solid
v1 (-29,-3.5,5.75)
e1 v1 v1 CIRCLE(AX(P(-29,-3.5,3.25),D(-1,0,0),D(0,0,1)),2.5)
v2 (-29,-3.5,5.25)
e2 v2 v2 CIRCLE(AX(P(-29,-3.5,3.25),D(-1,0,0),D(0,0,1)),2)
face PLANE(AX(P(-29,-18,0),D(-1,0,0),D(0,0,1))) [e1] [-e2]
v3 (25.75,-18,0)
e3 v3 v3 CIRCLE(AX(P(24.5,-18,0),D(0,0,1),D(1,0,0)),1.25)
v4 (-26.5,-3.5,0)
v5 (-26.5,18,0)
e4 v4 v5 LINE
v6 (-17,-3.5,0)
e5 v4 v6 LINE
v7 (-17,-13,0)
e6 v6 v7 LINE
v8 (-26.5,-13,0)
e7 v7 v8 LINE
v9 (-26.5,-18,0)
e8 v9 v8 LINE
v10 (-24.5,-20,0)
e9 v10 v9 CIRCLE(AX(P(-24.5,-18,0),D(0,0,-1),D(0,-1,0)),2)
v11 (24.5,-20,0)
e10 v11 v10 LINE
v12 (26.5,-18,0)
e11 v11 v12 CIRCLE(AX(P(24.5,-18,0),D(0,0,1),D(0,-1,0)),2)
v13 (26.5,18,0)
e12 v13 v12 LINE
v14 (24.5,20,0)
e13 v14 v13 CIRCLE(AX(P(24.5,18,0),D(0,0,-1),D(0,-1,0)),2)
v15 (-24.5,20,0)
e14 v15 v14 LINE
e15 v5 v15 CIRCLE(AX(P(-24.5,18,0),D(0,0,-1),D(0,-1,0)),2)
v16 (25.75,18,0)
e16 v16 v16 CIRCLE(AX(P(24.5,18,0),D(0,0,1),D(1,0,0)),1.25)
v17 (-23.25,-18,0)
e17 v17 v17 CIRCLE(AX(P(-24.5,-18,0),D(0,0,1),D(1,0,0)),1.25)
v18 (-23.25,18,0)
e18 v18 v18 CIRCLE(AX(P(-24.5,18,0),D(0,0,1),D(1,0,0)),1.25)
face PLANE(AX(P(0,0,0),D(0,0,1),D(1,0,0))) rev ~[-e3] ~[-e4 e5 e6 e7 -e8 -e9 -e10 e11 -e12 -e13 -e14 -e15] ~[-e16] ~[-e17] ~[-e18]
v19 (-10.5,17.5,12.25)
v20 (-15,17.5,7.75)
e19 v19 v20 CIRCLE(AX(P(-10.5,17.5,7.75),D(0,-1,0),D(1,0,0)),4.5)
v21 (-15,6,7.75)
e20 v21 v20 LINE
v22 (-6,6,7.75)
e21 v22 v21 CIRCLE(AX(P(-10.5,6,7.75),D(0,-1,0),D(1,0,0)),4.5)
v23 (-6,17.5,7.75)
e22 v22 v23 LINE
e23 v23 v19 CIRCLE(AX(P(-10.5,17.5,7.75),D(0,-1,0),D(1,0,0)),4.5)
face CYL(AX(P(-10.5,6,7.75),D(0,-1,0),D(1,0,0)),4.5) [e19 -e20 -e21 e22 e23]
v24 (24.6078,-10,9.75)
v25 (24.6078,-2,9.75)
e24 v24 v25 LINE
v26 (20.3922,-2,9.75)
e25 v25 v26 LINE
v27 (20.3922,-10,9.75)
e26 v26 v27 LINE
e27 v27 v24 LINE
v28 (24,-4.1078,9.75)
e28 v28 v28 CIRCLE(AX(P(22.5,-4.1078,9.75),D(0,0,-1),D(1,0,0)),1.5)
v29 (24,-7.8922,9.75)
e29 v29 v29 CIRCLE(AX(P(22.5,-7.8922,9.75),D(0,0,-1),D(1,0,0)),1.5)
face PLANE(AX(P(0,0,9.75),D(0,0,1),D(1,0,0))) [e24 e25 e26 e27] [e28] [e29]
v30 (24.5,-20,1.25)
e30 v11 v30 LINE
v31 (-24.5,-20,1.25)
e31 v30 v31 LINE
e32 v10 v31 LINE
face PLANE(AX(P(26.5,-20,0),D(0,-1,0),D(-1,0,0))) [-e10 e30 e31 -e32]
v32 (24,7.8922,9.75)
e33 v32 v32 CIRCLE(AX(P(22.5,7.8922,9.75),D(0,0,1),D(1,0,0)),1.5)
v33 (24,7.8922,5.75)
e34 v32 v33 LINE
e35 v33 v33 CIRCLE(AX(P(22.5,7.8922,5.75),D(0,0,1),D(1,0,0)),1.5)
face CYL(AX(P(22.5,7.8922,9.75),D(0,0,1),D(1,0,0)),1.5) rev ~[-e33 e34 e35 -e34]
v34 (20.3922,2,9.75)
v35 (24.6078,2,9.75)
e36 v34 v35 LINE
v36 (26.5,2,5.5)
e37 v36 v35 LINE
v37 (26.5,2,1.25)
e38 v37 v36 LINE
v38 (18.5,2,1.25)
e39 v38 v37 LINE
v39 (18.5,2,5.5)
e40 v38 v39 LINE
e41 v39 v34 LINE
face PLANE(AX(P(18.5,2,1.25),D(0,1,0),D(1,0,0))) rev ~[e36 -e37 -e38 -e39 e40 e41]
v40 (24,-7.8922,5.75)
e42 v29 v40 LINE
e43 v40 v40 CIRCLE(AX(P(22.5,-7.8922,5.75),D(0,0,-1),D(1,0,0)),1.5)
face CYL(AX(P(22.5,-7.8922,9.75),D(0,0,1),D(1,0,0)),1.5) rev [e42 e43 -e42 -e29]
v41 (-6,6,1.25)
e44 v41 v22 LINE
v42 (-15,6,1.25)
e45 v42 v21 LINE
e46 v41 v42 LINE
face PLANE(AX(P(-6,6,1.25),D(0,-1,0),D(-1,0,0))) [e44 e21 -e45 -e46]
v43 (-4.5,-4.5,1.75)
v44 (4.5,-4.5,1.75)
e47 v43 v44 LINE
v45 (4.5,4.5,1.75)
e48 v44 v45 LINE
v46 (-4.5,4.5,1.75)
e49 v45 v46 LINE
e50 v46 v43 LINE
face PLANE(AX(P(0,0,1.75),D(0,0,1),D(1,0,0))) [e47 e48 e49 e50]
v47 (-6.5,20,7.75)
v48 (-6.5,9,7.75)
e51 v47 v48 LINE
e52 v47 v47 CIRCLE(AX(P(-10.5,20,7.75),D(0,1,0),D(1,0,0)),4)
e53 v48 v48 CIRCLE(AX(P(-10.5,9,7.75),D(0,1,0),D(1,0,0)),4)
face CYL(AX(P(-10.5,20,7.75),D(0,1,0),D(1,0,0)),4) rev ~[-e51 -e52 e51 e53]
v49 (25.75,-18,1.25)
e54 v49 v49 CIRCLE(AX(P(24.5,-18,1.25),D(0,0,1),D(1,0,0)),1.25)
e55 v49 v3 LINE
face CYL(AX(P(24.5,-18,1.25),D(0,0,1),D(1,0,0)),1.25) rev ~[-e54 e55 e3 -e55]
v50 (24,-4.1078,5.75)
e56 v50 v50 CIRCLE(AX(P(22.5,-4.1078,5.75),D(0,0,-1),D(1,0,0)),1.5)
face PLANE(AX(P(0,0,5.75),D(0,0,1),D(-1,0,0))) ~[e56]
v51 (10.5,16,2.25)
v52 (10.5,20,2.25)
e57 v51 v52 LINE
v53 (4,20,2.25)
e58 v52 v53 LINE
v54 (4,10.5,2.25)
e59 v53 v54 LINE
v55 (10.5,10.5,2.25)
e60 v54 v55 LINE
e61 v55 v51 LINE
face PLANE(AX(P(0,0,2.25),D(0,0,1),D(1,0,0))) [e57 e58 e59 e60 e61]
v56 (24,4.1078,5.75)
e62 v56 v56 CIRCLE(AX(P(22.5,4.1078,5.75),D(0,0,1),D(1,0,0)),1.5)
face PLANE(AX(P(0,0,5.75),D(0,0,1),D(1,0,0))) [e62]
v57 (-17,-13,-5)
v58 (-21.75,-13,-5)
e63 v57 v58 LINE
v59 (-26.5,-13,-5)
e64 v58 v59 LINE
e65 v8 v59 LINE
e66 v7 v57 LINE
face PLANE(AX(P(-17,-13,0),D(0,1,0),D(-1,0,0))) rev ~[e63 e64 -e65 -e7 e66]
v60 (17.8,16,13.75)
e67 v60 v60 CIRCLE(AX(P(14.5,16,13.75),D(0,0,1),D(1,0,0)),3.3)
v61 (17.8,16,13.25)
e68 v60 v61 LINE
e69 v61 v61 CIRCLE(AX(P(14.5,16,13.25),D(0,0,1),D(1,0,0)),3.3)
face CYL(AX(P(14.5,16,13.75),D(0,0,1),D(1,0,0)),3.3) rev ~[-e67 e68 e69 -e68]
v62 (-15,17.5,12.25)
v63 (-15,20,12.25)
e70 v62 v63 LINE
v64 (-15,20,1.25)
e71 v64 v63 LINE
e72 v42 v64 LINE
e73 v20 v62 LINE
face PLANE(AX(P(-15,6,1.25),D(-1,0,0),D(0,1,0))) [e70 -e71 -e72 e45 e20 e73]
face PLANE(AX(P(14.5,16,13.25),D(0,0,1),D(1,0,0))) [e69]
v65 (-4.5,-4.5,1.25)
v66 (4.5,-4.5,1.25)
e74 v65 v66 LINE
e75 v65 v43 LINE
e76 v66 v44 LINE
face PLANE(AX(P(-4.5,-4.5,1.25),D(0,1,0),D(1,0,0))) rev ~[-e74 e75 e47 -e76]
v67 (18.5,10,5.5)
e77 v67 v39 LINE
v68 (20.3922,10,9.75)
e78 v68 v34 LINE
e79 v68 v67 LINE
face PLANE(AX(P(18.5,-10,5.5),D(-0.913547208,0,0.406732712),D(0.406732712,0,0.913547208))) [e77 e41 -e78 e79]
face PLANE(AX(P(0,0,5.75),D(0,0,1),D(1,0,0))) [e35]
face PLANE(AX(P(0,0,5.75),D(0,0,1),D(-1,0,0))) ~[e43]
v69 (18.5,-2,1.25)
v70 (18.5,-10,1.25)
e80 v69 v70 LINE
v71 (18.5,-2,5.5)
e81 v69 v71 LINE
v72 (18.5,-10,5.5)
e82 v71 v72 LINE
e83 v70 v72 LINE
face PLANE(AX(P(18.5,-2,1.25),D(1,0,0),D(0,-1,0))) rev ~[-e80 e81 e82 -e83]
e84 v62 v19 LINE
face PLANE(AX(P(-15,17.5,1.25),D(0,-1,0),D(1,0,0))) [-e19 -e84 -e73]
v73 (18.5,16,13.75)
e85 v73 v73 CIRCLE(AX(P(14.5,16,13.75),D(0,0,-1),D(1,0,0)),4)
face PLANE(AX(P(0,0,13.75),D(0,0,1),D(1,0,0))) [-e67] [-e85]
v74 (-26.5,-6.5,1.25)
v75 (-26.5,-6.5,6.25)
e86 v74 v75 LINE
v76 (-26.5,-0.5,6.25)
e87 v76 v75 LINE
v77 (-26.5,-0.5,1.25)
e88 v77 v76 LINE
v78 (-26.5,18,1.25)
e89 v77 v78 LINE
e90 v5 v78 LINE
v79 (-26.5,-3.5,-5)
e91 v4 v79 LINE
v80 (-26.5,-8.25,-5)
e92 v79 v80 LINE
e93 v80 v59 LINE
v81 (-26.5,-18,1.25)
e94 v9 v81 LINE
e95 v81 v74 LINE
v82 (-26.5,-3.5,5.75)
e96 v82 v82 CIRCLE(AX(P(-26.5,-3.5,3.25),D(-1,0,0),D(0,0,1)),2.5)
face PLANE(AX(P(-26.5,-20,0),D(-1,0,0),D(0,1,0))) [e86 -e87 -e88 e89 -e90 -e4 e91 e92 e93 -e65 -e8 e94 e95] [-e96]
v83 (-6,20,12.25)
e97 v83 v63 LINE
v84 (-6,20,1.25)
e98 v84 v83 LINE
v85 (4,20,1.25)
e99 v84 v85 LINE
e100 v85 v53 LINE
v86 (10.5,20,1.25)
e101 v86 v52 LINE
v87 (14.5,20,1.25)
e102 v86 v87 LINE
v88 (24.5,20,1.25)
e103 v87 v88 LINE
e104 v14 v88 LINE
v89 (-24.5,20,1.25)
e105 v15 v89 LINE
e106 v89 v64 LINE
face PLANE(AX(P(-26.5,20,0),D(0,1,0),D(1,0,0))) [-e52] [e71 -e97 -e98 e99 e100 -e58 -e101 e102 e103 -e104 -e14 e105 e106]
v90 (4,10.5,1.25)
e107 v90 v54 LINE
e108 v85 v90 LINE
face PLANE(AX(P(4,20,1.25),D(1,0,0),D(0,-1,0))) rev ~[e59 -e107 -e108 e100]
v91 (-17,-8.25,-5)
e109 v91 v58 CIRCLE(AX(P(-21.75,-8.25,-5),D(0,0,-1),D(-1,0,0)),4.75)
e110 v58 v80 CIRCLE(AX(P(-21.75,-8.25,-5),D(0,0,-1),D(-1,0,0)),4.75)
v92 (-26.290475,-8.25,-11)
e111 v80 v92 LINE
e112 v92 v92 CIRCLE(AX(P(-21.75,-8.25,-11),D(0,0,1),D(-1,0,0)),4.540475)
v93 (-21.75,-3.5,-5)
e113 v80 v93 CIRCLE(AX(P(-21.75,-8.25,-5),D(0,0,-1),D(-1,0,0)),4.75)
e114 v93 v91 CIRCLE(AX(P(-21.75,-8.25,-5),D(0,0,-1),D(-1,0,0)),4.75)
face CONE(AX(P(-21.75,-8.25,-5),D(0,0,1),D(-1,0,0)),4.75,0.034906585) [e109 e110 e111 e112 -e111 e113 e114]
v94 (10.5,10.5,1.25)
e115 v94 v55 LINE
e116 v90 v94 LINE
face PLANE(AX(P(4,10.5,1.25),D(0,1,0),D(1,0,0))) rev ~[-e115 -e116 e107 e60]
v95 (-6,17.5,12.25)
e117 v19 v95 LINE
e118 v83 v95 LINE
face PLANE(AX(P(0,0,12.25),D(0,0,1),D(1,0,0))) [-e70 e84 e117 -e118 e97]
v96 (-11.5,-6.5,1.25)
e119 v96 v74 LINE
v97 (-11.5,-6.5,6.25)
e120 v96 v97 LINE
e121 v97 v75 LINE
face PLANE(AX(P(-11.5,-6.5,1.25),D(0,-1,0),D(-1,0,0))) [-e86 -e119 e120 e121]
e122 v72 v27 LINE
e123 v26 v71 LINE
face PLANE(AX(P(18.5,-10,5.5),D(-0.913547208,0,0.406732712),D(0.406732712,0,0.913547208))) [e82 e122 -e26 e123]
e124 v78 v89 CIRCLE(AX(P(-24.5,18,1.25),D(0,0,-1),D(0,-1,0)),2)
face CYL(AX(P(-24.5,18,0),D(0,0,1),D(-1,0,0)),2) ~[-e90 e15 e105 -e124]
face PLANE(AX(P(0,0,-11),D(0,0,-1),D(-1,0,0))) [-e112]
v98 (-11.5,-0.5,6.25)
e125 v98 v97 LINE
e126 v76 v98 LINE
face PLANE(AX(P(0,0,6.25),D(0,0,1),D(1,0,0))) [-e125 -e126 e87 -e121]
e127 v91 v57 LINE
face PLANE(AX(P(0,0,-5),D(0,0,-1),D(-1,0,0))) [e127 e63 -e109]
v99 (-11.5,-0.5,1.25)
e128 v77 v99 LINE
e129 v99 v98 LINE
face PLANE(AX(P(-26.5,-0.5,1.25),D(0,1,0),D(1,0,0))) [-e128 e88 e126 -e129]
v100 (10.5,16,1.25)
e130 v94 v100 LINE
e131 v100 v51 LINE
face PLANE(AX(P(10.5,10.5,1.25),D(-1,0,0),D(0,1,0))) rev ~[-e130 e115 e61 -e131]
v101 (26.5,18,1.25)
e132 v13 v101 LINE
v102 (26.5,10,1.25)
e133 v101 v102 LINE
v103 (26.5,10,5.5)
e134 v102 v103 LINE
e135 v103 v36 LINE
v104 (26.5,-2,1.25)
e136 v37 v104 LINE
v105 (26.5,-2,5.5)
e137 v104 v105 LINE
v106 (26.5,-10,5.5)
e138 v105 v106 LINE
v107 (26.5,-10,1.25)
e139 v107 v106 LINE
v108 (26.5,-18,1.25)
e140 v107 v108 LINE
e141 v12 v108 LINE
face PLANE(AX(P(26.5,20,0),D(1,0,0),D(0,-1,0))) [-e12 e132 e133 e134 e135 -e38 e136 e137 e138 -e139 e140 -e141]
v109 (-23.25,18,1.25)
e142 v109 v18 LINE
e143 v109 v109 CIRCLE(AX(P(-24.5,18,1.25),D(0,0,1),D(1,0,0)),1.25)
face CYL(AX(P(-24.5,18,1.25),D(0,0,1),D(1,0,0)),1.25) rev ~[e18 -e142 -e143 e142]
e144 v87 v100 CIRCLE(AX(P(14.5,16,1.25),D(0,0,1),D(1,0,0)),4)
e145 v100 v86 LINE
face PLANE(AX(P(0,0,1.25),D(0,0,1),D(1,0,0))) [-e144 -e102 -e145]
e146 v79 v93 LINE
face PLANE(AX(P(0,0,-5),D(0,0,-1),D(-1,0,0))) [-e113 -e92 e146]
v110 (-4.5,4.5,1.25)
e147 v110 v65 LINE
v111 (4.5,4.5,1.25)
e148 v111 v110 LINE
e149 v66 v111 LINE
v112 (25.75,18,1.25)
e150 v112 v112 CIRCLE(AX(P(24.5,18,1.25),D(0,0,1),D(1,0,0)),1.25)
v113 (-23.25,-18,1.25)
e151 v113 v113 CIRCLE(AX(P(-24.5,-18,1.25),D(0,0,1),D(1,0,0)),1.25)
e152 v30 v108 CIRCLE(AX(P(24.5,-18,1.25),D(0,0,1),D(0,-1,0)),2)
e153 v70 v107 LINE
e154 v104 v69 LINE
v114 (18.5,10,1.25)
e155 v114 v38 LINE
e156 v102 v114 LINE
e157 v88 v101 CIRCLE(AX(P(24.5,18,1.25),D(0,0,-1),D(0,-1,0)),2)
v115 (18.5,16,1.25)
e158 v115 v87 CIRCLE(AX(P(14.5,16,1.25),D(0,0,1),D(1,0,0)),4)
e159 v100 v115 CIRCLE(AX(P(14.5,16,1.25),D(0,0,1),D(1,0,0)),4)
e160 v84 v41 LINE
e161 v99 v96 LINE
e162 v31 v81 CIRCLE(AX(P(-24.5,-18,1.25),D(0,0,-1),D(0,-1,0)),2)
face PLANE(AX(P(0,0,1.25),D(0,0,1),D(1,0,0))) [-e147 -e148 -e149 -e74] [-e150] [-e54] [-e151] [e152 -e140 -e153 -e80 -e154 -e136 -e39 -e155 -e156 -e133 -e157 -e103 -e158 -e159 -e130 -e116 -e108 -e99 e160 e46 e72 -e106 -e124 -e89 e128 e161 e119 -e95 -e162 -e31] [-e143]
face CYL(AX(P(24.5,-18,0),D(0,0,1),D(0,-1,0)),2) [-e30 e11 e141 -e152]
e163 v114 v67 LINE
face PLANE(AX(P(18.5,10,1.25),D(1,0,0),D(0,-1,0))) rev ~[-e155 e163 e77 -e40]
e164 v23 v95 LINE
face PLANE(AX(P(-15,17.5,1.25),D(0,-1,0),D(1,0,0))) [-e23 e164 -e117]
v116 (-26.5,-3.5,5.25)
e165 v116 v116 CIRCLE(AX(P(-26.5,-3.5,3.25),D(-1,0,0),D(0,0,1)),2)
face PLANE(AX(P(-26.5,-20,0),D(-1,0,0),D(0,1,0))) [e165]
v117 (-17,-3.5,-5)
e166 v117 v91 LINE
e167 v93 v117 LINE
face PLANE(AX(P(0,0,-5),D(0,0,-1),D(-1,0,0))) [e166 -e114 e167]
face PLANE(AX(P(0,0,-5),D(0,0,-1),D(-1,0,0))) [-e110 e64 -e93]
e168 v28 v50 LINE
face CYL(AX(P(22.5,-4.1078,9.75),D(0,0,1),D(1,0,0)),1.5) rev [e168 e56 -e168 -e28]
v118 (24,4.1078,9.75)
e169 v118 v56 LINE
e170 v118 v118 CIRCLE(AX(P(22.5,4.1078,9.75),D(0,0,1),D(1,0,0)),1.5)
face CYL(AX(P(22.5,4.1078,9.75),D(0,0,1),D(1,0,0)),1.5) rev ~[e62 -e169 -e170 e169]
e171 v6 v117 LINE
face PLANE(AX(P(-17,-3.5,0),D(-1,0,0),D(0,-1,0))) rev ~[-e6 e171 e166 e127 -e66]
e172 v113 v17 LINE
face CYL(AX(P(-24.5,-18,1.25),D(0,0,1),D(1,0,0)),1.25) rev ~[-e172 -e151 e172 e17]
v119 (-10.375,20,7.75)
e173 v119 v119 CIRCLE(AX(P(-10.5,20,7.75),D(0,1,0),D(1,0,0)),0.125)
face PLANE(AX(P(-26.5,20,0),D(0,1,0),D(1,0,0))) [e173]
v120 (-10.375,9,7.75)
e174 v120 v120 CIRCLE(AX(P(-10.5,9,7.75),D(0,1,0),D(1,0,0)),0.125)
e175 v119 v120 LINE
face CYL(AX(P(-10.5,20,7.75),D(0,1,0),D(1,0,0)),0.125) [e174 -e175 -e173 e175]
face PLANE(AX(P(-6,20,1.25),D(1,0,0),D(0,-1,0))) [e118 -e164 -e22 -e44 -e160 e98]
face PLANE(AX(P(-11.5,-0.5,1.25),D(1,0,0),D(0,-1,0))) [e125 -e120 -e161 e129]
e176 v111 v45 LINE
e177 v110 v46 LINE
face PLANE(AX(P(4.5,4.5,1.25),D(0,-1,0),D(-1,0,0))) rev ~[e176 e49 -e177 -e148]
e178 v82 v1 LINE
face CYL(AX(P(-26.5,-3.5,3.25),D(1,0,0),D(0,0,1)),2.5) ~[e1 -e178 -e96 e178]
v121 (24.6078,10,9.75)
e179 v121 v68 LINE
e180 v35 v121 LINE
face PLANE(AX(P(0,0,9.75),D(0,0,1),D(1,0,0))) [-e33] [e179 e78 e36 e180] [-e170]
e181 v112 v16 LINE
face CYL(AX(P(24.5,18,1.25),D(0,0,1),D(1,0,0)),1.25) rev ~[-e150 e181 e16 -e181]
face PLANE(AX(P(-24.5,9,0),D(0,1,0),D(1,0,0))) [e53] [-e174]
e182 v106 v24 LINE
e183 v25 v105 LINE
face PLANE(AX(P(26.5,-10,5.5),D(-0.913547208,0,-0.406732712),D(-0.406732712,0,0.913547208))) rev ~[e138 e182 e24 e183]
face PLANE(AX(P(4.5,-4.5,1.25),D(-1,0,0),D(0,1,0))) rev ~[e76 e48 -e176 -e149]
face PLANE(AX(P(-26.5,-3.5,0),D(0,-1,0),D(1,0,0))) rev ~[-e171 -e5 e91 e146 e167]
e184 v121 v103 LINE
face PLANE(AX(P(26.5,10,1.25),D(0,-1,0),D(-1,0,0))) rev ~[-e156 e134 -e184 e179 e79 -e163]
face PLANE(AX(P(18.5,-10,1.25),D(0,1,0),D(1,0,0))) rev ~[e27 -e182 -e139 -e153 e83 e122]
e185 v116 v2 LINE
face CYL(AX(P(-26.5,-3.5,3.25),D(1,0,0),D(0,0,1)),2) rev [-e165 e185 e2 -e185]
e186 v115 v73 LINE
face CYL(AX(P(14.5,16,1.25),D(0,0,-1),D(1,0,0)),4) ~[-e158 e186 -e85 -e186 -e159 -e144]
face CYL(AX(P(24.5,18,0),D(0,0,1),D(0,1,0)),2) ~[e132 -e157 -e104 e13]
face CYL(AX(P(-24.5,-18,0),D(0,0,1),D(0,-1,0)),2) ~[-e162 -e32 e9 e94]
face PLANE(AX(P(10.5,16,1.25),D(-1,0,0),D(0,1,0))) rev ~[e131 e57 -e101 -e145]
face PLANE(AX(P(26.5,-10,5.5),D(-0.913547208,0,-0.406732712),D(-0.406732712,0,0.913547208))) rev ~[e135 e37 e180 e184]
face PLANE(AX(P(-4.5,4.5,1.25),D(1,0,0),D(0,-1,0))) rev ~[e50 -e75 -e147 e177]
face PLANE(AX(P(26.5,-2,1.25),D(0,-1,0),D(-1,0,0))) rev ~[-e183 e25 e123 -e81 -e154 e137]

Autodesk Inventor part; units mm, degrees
ref_plane "YZ Plane" through (0, 0, 0) normal (1, 0, 0) x (0, 1, 0)
ref_plane "XZ Plane" through (0, 0, 0) normal (0, 1, 0) x (-1, 0, 0)
ref_plane "XY Plane" through (0, 0, 0) normal (0, 0, 1) x (1, 0, 0)
sketch "Base" plane through (0, 0, 0) normal (0, 0, 1) x (1, 0, 0)
  line L0 (26.5, -20) -> (-26.5, -20)
  line L1 (-26.5, -20) -> (-26.5, 20)
  line L2 (-26.5, 20) -> (26.5, 20)
  line L3 (26.5, 20) -> (26.5, -20)
  line L4 (26.5, -20) -> (-26.5, 20) construction
  line L5 (-26.5, -20) -> (26.5, 20) construction
  point P0 (0, 0)
  dimension "d0" = 53
  dimension "d1" = 40
extrude "BaseFeature" add sketch "Base" along normal blind 1.25
fillet "BaseFilletFeature" radius 2 4 edges at (-26.5, 20, 0.625) (26.5, 20, 0.625) (-26.5, -20, 0.625) (26.5, -20, 0.625)
sketch "MountHoles" plane through (0, 0, 1.25) normal (0, 0, 1) x (1, 0, 0)
  arc A0 (-24.5, 20) -> (-26.5, 18) centre (-24.5, 18) ccw projected
  arc A1 (26.5, 18) -> (24.5, 20) centre (24.5, 18) ccw projected
  arc A2 (-26.5, -18) -> (-24.5, -20) centre (-24.5, -18) ccw projected
  arc A3 (24.5, -20) -> (26.5, -18) centre (24.5, -18) ccw projected
  circle A4 centre (-24.5, 18) radius 1.25
  circle A5 centre (24.5, 18) radius 1.25
  circle A6 centre (-24.5, -18) radius 1.25
  circle A7 centre (24.5, -18) radius 1.25
  point P0 (0, 0)
  dimension "d5" = 2.5
extrude "MountHolesFeature" cut sketch "MountHoles" against normal through all
sketch "Sketch3" plane through (0, 0, 1.25) normal (0, 0, 1) x (1, 0, 0)
  line L0 (26.5, 10) -> (18.5, 10)
  line L1 (18.5, 10) -> (18.5, 2)
  line L2 (18.5, 2) -> (26.5, 2)
  line L3 (26.5, 2) -> (26.5, 10)
  line L4 (26.5, -2) -> (18.5, -2)
  line L5 (18.5, -2) -> (18.5, -10)
  line L6 (18.5, -10) -> (26.5, -10)
  line L7 (26.5, -10) -> (26.5, -2)
  line L8 (24.5, 20) -> (-24.5, 20) projected
  line L9 (-24.5, -20) -> (24.5, -20) projected
  line L10 (26.5, -18) -> (26.5, 18) projected
  point P0 (0, 0)
  point P1 (22.5, 10)
  dimension "d8" = 10
  dimension "d9" = 8
  dimension "d10" = 10
  dimension "d11" = 8
extrude "Extrusion3" add sketch "Sketch3" along normal blind 8.5
sketch "Sketch4" plane through (18.5, -10, 1.25) normal (0, -1, 0) x (1, 0, 0)
  line L0 (0, 0) -> (0, 8.5) projected
  line L1 (0, 4.25) -> (8, 4.25)
  line L2 (8, 0) -> (8, 8.5) projected
  line L3 (0, 4.25) -> (1.8922, 8.5)
  line L4 (0, 8.5) -> (8, 8.5) projected
  line L5 (8, 4.25) -> (6.1078, 8.5)
  point P0 (-18.5, -1.25)
  dimension "d14" = 24
  dimension "d15" = 24
extrude "Extrusion4" cut sketch "Sketch4" along normal through all both and the other way through all contours L0 L4 L3 | L5 L4 L2
sketch "Sketch5" plane through (0, 0, 9.75) normal (0, 0, 1) x (1, 0, 0)
  line L0 (20.3922, 10) -> (20.3922, 2) construction
  line L1 (20.3922, 6) -> (24.6078, 6) construction
  line L2 (24.6078, 2) -> (24.6078, 10) construction
  circle A0 centre (22.5, 7.8922) radius 2.1078 construction
  line L3 (24.6078, 10) -> (20.3922, 10) construction
  circle A1 centre (22.5, 4.1078) radius 2.1078 construction
  line L4 (20.3922, 2) -> (24.6078, 2) construction
  circle A2 centre (22.5, 7.8922) radius 1.5
  circle A3 centre (22.5, 4.1078) radius 1.5
  point P0 (0, 0)
  dimension "d18" = 3
  dimension "d19" = 3
extrude "Extrusion5" cut sketch "Sketch5" against normal blind 4
mirror "Mirror1" about plane through (0, 0, 0) normal (0, 1, 0) of "Extrusion5"
sketch "Sketch6" plane through (0, 0, 1.25) normal (0, 0, 1) x (1, 0, 0)
  circle A0 centre (14.5, 16) radius 4
  line L0 (24.5, 20) -> (-24.5, 20) projected
  line L1 (10.5, 20) -> (18.5, 20)
  line L2 (18.5, 20) -> (18.5, 12) construction
  line L3 (18.5, 12) -> (10.5, 12) construction
  line L4 (10.5, 12) -> (10.5, 20) construction
  line L5 (26.5, 10) -> (26.5, 18) projected
  point P0 (0, 0)
  dimension "d22" = 8
  dimension "d23" = 8
extrude "Extrusion6" add sketch "Sketch6" along normal blind 12.5
sketch "Sketch7" plane through (14.5, 16, 13.75) normal (0, 0, 1) x (1, 0, 0)
  circle A0 centre (0, 0) radius 4 projected
  circle A1 centre (0, 0) radius 3.3
  point P0 (-14.5, -16)
  dimension "d26" = 0.7
extrude "Extrusion7" cut sketch "Sketch7" against normal blind 0.5 contours A1
sketch "Sketch8" plane through (0, 0, 1.25) normal (0, 0, 1) x (1, 0, 0)
  line L0 (-26.5, 18) -> (-26.5, -18) projected
  line L1 (-26.5, -0.5) -> (-11.5, -0.5)
  line L2 (-11.5, -0.5) -> (-11.5, -6.5)
  line L3 (-11.5, -6.5) -> (-26.5, -6.5)
  line L4 (-26.5, -6.5) -> (-26.5, -0.5)
  line L5 (-24.5, -20) -> (24.5, -20) projected
  point P0 (0, 0)
  dimension "d29" = 15
  dimension "d30" = 6
  dimension "d31" = 13.5
extrude "Extrusion8" add sketch "Sketch8" along normal blind 5
sketch "Sketch9" plane through (-26.5, -18, 0) normal (-1, 0, 0) x (0, 0, 1)
  line L0 (1.25, 17.5) -> (6.25, 17.5) construction
  line L1 (6.25, 17.5) -> (6.25, 11.5) construction
  line L2 (1.25, 11.5) -> (6.25, 11.5) construction
  circle A0 centre (3.25, 14.5) radius 3 construction
  circle A1 centre (3.25, 14.5) radius 2.5
  circle A2 centre (3.25, 14.5) radius 2
  point P0 (0, 18)
  dimension "d34" = 0.5
  dimension "d35" = 0.5
extrude "Extrusion9" add sketch "Sketch9" along normal blind 2.5
sketch "Sketch10" plane through (0, 0, 1.25) normal (0, 0, 1) x (1, 0, 0)
  line L0 (14.5, 20) -> (-24.5, 20) projected
  line L1 (-15, 20) -> (-6, 20)
  line L2 (-6, 20) -> (-6, 6)
  line L3 (-6, 6) -> (-15, 6)
  line L4 (-15, 6) -> (-15, 20)
  line L5 (-26.5, 18) -> (-26.5, -0.5) projected
  point P0 (0, 0)
  dimension "d38" = 14
  dimension "d39" = 9
  dimension "d40" = 11.5
extrude "Extrusion10" add sketch "Sketch10" along normal blind 11
sketch "Sketch11" plane through (-24.5, 20, 0) normal (0, 1, 0) x (1, 0, 0)
  line L0 (18.5, -1.25) -> (18.5, -12.25) construction
  line L1 (18.5, -12.25) -> (9.5, -12.25) construction
  line L2 (9.5, -1.25) -> (9.5, -12.25) construction
  circle A0 centre (14, -7.75) radius 4.5
  circle A1 centre (14, -7.75) radius 4
  circle A2 centre (14, -7.75) radius 0.125
  point P0 (24.5, 0)
  dimension "d43" = 0.5
  dimension "d44" = 0.25
extrude "Extrusion11" cut sketch "Sketch11" against normal blind 11 contours A1
sketch "Sketch12" plane through (0, 0, 1.25) normal (0, 0, 1) x (1, 0, 0)
  line L0 (-4.5, -4.5) -> (4.5, -4.5)
  line L1 (4.5, -4.5) -> (4.5, 4.5)
  line L2 (4.5, 4.5) -> (-4.5, 4.5)
  line L3 (-4.5, 4.5) -> (-4.5, -4.5)
  line L4 (-4.5, -4.5) -> (4.5, 4.5) construction
  line L5 (4.5, -4.5) -> (-4.5, 4.5) construction
  point P0 (0, 0)
  dimension "d47" = 9
extrude "Extrusion12" add sketch "Sketch12" along normal blind 0.5
sketch "Sketch13" plane through (-15, 6, 1.25) normal (0, -1, 0) x (1, 0, 0)
  circle A0 centre (4.5, 6.5) radius 4 projected
  circle A1 centre (4.5, 6.5) radius 4.5
  line L0 (9, 0) -> (0, 0) projected
  line L1 (9, 0) -> (9, 11) projected
  line L2 (0, 11) -> (9, 11) projected
  line L3 (0, 0) -> (0, 11) projected
  point P0 (15, -1.25)
  point P1 (0, 6.5)
  point P2 (4.5, 11)
  point P3 (9, 6.5)
extrude "Extrusion13" cut sketch "Sketch13" against normal blind 11.5 contours A1 L2 L1 | A1 L3 L2
sketch "Sketch14" plane through (0, 0, 1.25) normal (0, 0, 1) x (1, 0, 0)
  line L0 (14.5, 20) -> (-6, 20) projected
  line L1 (10.5, 20) -> (4, 20)
  line L2 (4, 20) -> (4, 10.5)
  line L3 (4, 10.5) -> (10.5, 10.5)
  line L4 (10.5, 10.5) -> (10.5, 20)
  circle A0 centre (14.5, 16) radius 4 projected
  point P0 (0, 0)
  point P1 (4, 20)
  dimension "d52" = 6.5
  dimension "d53" = 9.5
extrude "Extrusion14" add sketch "Sketch14" along normal blind 1 contours L4 L3 L2 L0
sketch "Sketch15" plane through (0, 0, 0) normal (0, 0, -1) x (-1, 0, 0)
  line L0 (26.5, -6.5) -> (26.5, -18) projected
  line L1 (26.5, -3.5) -> (17, -3.5)
  line L2 (17, -3.5) -> (17, -13)
  line L3 (17, -13) -> (26.5, -13)
  line L4 (26.5, -13) -> (26.5, -3.5)
  line L5 (24.5, -20) -> (-24.5, -20) projected
  point P0 (0, 0)
  dimension "d56" = 9.5
  dimension "d57" = 7
extrude "Extrusion15" add sketch "Sketch15" along normal blind 5
sketch "Sketch16" plane through (0, 0, -5) normal (0, 0, -1) x (-1, 0, 0)
  line L0 (17, -13) -> (26.5, -13) projected
  line L1 (26.5, -13) -> (26.5, -3.5) projected
  line L2 (26.5, -3.5) -> (17, -3.5) projected
  line L3 (17, -3.5) -> (17, -13) projected
  circle A0 centre (21.75, -8.25) radius 4.75
  point P0 (0, 0)
extrude "Extrusion16" add sketch "Sketch16" along normal blind 6 draft -2 contours A0
properties part number "Max9744_20W_ClassD_Amplifier"
